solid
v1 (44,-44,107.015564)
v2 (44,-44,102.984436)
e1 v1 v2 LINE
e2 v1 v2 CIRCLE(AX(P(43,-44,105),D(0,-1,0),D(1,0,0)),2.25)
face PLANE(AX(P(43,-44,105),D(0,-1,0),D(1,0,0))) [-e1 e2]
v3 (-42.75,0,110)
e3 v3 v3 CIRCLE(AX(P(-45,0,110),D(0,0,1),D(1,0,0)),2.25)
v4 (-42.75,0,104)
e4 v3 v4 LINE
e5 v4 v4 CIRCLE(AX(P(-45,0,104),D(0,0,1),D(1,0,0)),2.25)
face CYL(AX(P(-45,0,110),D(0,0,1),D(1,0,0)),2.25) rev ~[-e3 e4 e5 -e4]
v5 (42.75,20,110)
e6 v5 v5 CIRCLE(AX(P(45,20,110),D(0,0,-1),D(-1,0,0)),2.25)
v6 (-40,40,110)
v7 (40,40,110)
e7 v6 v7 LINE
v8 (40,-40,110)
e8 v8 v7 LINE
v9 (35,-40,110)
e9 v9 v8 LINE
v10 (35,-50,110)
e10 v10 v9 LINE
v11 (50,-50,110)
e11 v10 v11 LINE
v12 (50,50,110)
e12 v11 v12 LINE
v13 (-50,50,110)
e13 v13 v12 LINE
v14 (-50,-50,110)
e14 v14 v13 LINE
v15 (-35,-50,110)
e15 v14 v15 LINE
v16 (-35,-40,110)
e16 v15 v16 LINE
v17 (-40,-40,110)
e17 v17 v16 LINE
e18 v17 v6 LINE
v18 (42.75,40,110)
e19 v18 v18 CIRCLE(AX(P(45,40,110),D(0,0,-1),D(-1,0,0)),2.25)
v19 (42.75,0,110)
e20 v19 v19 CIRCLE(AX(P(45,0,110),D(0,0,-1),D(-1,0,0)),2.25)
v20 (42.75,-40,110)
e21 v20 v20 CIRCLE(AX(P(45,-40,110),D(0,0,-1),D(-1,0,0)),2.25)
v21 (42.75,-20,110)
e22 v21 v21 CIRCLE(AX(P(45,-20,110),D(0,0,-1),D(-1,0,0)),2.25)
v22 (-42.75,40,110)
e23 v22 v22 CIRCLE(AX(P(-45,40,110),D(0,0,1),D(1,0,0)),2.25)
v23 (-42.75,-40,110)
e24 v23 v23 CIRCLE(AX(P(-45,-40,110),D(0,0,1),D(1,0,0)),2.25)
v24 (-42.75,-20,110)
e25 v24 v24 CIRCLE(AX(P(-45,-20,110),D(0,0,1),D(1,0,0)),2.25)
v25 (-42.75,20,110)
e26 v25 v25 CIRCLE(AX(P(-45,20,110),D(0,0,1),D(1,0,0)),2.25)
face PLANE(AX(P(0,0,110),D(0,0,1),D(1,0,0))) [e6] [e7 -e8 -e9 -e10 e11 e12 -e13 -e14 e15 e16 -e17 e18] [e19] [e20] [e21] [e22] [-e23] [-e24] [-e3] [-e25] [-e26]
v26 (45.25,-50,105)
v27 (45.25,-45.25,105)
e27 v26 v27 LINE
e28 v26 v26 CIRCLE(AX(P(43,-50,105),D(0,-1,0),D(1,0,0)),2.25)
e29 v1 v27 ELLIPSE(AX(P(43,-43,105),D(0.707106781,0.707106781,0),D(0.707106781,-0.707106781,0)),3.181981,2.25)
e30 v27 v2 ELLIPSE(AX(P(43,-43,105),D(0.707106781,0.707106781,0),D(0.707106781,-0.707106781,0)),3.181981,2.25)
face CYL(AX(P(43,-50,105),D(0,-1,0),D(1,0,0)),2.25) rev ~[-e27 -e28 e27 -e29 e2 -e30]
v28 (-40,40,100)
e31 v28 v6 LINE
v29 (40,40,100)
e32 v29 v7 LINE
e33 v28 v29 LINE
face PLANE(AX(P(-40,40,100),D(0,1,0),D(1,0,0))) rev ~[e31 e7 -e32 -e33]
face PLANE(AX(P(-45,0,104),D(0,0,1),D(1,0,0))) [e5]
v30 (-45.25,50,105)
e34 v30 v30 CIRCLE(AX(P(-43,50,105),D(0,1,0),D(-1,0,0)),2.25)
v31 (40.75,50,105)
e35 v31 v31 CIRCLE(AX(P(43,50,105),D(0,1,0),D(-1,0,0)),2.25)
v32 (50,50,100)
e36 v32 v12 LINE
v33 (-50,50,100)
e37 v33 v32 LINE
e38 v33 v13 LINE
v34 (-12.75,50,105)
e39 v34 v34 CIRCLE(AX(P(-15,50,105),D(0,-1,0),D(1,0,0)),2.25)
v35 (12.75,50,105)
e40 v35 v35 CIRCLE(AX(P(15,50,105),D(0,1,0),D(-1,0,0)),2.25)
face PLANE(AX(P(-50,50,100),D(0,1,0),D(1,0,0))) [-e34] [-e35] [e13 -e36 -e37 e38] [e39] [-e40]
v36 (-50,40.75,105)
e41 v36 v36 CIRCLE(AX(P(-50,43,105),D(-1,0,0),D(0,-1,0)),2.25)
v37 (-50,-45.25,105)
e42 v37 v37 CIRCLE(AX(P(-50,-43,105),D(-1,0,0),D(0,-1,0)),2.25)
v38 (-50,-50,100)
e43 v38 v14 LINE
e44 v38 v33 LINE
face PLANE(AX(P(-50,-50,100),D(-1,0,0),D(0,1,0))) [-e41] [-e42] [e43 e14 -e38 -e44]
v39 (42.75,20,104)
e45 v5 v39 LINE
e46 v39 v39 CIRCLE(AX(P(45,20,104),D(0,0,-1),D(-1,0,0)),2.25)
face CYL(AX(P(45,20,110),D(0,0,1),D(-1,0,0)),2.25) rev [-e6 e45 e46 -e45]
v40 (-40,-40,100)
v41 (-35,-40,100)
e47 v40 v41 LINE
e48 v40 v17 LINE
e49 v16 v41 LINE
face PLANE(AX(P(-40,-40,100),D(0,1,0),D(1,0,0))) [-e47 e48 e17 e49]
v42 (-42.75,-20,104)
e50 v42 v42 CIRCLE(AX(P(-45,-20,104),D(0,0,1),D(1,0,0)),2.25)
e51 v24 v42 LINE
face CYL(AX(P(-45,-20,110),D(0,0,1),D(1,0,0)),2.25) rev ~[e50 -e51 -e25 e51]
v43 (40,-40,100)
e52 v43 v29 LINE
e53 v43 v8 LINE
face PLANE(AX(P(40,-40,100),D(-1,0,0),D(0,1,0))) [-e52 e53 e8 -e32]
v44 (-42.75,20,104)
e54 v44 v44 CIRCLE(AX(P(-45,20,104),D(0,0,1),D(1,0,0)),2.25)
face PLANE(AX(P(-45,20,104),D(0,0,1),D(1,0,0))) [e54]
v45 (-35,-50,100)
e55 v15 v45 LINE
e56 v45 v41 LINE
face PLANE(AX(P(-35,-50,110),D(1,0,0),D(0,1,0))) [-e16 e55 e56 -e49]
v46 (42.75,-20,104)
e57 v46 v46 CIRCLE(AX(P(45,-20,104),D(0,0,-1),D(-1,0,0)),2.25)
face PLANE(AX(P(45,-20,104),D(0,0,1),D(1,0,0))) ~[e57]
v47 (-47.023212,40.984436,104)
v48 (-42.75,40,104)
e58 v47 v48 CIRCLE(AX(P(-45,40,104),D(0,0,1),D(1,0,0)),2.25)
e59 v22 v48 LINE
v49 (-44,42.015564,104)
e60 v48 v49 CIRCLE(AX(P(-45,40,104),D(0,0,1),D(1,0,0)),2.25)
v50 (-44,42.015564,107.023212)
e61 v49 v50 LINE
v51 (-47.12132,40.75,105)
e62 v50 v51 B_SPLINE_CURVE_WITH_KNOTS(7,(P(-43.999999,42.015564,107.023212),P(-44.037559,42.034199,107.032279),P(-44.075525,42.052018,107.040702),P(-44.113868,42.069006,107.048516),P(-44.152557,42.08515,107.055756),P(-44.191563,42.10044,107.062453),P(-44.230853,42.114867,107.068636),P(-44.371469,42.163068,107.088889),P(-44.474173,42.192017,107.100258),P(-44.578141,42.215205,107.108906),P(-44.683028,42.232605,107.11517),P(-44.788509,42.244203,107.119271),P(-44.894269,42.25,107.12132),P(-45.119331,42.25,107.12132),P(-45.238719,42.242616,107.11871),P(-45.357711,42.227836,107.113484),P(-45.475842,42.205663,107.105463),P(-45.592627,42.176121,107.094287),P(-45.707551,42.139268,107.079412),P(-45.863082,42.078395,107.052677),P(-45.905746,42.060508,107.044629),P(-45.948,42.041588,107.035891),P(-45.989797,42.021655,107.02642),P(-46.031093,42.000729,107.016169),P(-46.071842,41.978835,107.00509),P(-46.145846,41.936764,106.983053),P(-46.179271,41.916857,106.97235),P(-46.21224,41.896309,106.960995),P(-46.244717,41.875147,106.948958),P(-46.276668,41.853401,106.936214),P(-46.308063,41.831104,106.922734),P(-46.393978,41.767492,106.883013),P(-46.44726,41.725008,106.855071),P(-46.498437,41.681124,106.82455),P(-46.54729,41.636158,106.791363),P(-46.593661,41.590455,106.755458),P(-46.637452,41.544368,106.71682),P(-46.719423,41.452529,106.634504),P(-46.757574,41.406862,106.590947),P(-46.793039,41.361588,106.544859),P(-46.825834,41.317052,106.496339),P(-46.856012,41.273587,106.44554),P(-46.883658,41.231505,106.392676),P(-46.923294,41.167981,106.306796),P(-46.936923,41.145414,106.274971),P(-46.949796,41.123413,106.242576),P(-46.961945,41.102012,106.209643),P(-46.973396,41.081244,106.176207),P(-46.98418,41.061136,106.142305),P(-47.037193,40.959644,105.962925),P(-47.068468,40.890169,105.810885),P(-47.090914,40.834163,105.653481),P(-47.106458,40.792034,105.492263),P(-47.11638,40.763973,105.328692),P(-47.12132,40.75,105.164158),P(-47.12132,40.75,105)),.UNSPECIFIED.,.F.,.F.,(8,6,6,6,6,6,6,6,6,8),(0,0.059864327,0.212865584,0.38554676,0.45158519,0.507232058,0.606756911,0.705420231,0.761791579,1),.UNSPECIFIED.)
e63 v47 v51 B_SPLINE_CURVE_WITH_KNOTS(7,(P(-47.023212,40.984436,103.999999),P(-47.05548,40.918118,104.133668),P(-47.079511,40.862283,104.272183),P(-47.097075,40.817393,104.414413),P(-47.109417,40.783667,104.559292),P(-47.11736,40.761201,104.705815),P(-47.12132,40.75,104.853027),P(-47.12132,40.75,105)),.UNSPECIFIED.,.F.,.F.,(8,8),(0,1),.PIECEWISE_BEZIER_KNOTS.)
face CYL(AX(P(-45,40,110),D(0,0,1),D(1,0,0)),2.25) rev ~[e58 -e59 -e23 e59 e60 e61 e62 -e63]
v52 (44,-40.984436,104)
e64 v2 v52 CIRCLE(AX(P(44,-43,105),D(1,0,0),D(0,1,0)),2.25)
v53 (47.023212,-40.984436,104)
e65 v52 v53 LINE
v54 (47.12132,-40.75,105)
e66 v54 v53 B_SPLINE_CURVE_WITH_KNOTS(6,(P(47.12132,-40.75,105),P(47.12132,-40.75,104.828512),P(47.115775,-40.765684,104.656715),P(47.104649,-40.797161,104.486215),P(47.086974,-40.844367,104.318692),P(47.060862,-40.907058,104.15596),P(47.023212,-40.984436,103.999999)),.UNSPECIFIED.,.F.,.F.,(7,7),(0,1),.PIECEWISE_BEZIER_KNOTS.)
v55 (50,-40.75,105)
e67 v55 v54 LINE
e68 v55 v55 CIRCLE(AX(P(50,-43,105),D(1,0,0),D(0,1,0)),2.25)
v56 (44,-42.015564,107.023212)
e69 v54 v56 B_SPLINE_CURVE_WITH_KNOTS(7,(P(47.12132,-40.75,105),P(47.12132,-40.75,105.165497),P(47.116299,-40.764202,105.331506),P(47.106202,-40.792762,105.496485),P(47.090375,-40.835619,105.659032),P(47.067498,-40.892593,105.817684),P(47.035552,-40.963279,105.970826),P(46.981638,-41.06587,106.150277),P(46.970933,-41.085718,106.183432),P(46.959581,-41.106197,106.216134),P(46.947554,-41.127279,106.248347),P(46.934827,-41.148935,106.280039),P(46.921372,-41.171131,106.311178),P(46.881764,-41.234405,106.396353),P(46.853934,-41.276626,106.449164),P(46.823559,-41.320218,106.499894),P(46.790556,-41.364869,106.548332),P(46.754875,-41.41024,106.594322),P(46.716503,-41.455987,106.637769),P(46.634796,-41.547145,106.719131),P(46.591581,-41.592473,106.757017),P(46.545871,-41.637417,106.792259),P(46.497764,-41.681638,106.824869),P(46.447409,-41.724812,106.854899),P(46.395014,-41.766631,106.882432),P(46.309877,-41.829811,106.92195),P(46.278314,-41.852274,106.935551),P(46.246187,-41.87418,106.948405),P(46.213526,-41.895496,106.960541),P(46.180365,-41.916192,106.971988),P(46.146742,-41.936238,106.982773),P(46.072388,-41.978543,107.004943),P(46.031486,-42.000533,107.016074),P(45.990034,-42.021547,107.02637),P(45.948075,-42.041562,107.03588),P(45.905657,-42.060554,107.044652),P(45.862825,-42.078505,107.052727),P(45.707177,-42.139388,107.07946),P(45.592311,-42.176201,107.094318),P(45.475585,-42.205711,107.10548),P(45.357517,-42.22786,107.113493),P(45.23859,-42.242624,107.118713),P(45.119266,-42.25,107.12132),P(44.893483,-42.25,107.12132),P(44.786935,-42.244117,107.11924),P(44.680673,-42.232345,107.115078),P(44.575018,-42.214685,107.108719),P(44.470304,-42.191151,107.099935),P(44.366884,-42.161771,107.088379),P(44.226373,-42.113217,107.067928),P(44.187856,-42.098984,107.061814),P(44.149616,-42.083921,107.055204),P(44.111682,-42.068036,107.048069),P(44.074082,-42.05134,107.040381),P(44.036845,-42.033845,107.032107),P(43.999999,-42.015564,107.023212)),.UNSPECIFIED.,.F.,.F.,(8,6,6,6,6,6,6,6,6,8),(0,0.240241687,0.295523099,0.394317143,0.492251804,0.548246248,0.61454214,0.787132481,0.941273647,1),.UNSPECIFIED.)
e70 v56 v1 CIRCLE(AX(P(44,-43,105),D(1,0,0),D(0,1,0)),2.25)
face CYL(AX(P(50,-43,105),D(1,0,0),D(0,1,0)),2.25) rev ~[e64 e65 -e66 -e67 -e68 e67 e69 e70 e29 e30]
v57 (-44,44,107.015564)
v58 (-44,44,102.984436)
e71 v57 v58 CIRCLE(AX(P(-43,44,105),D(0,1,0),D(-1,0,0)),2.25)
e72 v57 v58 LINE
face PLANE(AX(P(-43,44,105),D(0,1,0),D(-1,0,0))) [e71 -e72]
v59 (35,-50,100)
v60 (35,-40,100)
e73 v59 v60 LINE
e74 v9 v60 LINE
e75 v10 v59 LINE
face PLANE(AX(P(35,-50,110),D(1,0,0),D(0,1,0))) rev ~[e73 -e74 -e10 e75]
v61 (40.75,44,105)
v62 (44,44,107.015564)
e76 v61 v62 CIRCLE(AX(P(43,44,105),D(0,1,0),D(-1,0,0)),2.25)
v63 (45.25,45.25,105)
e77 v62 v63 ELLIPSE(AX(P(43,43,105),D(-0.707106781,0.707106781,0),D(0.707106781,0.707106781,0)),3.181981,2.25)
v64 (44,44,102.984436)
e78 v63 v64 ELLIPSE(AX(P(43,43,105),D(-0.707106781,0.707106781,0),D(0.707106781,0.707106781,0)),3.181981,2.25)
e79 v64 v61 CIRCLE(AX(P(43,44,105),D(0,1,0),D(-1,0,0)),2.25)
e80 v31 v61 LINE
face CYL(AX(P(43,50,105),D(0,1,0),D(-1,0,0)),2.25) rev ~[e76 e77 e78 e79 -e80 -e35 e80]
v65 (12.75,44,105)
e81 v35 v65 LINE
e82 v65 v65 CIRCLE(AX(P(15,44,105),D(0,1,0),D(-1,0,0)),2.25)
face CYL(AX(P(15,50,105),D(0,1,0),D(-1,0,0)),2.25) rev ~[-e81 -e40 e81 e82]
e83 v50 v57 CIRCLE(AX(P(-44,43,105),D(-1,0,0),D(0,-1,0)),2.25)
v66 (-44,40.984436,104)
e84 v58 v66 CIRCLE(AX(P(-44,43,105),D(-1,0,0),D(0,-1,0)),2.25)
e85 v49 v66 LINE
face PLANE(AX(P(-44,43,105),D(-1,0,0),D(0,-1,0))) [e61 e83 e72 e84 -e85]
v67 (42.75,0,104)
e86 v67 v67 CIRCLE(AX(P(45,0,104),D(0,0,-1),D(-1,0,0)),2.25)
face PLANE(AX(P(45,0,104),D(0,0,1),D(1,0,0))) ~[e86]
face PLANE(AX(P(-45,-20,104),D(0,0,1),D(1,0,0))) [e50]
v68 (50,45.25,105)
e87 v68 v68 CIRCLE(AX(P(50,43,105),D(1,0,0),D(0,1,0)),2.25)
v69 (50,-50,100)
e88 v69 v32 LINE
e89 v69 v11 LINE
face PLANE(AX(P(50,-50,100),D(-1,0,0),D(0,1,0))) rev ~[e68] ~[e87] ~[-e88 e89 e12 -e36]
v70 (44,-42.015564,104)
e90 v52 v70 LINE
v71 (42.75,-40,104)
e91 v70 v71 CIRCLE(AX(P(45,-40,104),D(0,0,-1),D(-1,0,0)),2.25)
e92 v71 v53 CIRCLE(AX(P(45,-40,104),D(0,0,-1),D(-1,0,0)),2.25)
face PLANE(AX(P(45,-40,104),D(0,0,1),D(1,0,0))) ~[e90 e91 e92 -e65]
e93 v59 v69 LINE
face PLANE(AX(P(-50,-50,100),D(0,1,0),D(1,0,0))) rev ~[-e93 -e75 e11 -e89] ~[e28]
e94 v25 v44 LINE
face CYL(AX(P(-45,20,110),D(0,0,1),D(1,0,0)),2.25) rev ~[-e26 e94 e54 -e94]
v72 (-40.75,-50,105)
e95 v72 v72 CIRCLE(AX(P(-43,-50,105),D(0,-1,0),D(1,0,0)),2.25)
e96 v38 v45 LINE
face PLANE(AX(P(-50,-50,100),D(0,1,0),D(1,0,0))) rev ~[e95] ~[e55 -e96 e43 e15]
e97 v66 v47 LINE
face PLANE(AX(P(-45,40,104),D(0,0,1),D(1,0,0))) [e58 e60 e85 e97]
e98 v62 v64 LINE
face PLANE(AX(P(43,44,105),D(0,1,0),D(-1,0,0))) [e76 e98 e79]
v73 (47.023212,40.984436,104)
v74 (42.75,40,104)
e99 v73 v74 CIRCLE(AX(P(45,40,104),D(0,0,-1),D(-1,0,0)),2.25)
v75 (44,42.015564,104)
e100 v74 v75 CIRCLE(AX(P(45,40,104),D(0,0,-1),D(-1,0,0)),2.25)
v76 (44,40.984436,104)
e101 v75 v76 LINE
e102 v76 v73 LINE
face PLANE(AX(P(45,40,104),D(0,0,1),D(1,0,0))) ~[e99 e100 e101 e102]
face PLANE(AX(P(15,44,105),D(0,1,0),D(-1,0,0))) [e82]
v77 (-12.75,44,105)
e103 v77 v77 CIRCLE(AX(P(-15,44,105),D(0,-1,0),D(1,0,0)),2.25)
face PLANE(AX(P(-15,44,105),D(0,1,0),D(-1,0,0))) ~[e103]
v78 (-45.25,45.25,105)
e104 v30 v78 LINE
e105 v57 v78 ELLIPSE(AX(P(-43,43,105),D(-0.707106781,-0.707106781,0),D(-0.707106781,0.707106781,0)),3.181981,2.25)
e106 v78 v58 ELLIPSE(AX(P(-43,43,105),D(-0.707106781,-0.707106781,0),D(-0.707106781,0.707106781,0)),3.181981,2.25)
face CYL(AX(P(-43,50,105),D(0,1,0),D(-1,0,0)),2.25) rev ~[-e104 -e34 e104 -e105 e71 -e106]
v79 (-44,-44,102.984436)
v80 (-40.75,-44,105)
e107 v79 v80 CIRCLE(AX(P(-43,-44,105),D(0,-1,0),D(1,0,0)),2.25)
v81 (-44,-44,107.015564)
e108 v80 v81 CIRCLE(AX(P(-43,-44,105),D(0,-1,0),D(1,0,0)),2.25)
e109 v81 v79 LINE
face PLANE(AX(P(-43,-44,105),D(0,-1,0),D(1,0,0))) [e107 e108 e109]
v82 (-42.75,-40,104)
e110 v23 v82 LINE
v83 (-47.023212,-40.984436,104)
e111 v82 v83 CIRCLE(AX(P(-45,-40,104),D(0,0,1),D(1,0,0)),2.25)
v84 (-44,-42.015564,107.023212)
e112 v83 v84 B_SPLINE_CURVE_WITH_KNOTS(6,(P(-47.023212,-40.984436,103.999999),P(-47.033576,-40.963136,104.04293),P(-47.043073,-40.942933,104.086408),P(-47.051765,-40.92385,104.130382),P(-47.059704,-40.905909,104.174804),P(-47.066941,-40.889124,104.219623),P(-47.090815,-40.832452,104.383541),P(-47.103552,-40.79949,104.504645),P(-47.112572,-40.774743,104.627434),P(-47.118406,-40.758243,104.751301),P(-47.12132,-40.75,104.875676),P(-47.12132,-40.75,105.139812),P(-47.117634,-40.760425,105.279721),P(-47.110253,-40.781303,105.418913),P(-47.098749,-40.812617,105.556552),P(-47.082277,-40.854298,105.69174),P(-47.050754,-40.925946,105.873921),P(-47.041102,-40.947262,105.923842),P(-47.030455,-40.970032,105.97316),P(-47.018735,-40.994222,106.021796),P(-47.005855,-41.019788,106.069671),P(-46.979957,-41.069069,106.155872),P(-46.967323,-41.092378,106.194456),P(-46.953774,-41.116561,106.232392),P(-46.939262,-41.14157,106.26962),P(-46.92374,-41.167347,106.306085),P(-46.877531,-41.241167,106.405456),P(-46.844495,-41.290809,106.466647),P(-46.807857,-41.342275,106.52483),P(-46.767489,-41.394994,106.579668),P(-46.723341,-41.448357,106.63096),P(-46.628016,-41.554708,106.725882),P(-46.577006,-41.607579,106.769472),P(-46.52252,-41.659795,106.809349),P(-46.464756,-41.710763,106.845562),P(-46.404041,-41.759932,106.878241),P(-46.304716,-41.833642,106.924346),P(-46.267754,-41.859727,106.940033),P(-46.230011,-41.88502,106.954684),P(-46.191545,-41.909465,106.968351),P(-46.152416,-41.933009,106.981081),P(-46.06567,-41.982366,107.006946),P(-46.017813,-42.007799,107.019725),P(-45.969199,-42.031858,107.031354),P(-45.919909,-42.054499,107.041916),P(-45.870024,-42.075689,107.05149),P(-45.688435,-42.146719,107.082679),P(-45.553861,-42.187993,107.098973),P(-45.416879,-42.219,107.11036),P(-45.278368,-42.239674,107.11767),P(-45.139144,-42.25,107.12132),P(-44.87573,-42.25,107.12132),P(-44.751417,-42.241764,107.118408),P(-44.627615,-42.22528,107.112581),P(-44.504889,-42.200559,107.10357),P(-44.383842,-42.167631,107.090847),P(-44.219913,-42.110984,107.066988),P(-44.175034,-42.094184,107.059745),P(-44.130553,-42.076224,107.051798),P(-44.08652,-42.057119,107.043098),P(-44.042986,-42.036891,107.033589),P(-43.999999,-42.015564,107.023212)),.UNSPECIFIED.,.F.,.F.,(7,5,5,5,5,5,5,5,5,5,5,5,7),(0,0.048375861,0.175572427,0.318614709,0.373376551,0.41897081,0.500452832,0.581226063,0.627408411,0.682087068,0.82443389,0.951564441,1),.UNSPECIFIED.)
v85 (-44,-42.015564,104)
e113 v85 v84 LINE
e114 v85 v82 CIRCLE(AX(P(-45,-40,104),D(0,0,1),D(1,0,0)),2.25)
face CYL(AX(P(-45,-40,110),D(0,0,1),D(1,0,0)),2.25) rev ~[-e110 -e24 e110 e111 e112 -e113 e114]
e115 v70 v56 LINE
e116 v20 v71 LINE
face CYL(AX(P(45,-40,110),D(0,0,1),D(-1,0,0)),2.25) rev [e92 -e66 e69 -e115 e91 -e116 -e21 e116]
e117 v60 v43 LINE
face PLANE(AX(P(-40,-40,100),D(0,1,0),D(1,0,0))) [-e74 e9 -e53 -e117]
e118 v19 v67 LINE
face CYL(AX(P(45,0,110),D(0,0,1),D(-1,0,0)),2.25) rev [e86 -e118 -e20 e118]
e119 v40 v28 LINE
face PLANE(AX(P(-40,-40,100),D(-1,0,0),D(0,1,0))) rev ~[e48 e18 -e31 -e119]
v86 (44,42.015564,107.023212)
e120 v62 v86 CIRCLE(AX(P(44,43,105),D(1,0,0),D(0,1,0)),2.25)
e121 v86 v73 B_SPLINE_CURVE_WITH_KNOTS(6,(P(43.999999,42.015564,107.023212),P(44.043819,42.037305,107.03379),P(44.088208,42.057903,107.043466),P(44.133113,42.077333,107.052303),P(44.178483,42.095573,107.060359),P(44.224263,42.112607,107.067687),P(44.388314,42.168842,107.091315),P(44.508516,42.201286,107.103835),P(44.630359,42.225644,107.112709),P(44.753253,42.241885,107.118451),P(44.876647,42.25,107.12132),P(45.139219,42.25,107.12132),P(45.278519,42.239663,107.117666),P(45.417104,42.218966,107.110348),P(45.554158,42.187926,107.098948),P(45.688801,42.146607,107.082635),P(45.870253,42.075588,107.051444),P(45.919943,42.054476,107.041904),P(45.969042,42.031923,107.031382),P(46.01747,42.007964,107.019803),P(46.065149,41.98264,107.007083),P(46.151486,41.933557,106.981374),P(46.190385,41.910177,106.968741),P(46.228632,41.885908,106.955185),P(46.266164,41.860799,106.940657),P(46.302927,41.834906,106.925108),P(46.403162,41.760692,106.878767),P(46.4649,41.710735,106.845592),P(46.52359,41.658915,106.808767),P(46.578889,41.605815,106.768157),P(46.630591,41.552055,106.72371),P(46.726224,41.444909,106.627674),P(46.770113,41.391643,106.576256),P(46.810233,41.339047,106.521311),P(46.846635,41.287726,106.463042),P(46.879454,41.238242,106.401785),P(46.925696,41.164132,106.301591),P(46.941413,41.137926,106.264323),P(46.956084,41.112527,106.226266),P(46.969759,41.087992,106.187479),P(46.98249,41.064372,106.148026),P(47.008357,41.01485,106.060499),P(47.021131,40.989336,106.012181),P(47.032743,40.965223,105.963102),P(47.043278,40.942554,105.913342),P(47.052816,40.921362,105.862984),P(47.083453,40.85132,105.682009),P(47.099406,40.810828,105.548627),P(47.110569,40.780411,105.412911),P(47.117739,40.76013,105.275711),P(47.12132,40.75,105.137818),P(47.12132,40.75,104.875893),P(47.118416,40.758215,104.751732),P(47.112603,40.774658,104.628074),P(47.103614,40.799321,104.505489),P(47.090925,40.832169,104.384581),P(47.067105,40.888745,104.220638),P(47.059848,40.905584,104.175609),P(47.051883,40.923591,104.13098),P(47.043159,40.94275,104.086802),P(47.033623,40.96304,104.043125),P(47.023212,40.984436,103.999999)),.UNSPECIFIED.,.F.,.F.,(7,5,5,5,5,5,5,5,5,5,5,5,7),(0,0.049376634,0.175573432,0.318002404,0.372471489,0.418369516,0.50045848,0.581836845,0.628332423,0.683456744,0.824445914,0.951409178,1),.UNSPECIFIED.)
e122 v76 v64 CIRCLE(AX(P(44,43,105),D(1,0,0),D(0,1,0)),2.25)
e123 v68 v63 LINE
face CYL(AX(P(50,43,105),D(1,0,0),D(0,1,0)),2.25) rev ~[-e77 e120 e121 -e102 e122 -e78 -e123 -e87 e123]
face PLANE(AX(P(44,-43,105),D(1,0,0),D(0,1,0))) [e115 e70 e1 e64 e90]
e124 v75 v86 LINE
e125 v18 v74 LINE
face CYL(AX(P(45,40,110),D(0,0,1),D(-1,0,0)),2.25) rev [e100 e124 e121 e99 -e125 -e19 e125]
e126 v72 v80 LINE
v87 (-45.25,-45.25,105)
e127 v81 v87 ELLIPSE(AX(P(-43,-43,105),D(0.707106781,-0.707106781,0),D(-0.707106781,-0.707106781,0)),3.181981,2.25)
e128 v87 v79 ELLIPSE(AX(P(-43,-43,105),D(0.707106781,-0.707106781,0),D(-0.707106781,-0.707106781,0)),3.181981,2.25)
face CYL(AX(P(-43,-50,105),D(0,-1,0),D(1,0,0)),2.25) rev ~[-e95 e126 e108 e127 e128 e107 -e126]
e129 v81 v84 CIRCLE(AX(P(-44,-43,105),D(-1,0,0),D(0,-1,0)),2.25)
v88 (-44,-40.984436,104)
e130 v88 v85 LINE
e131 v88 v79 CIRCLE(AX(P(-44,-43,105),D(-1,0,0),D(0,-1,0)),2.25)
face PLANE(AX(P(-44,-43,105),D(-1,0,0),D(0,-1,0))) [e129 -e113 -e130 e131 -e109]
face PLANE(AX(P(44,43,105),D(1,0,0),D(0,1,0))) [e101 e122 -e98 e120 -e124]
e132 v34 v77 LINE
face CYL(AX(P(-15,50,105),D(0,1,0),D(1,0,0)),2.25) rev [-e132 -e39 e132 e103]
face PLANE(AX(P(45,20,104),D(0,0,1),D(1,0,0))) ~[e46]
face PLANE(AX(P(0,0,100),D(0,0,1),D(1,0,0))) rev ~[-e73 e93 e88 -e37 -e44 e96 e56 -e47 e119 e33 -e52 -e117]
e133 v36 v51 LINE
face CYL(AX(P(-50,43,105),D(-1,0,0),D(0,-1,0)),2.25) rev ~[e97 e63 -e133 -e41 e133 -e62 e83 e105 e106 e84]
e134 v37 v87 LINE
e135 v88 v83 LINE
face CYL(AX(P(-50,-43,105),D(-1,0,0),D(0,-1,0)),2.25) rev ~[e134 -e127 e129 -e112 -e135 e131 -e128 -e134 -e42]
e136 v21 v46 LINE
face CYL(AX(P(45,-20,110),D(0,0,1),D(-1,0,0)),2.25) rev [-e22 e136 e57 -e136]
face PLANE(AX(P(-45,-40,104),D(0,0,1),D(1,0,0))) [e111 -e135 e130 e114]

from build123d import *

# Parameters (mm, degrees)
SKETCH_W              = 100
SKETCH_H              = 100
SKETCH_W_2            = 80
SKETCH_H_2            = 80
PAD_DEPTH             = 10
SKETCH002_R           = 2.25
POCKET_DEPTH          = 6
SKETCH070_R           = 2.25
POCKET044_DEPTH       = 6
POLARPATTERN_COUNT    = 4
SKETCH071_R           = 2.25
POCKET045_DEPTH       = 6
POLARPATTERN001_COUNT = 4
SKETCH072_R           = 2.25
POCKET046_DEPTH       = 6
SKETCH097_W           = 70
SKETCH097_H           = 10
POCKET060_DEPTH       = 10


with BuildPart() as part:
    # Sketch → Pad (new body)
    with BuildSketch(Plane.XY):
        Rectangle(SKETCH_W, SKETCH_H)
        Rectangle(SKETCH_W_2, SKETCH_H_2, mode=Mode.SUBTRACT)
    extrude(amount=PAD_DEPTH)

    # Sketch002 (on Face10 of Pad) → Pocket (cut)
    with BuildSketch(Plane.XY.offset(10)):
        with Locations((-45, 40)):
            Circle(SKETCH002_R)
        with Locations((-45, 20)):
            Circle(SKETCH002_R)
        with Locations((-45, 0)):
            Circle(SKETCH002_R)
        with Locations((-45, -20)):
            Circle(SKETCH002_R)
        with Locations((-45, -40)):
            Circle(SKETCH002_R)
    pocket = extrude(amount=-POCKET_DEPTH, mode=Mode.SUBTRACT)

    # Mirrored: Pocket across Sketch002 V_Axis
    add(pocket.mirror(Plane(origin=(0, 0, 10), x_dir=(0, 0, 1), z_dir=(1, 0, 0))), mode=Mode.SUBTRACT)

    # Sketch070 (on Face6 of Mirrored) → Pocket044 (cut)
    with BuildSketch(Plane.XZ.offset(50)):
        with Locations((-43, 5)):
            Circle(SKETCH070_R)
    pocket044 = extrude(amount=-POCKET044_DEPTH, mode=Mode.SUBTRACT)

    # PolarPattern: Pocket044 ×4 about axis
    polarpattern_axis = Axis((0, 0, 0), (0, 0, 1))
    for i in range(1, POLARPATTERN_COUNT):
        add(pocket044.rotate(polarpattern_axis, i * 360 / POLARPATTERN_COUNT), mode=Mode.SUBTRACT)

    # Sketch071 (on Face2 of PolarPattern) → Pocket045 (cut)
    with BuildSketch(Plane(origin=(-50, 0, 0), x_dir=(0, -1, 0), z_dir=(-1, 0, 0))):
        with Locations((43, 5)):
            Circle(SKETCH071_R)
    pocket045 = extrude(amount=-POCKET045_DEPTH, mode=Mode.SUBTRACT)

    # PolarPattern001: Pocket045 ×4 about axis
    polarpattern001_axis = Axis((0, 0, 0), (0, 0, 1))
    for i in range(1, POLARPATTERN001_COUNT):
        add(pocket045.rotate(polarpattern001_axis, i * 360 / POLARPATTERN001_COUNT), mode=Mode.SUBTRACT)

    # Sketch072 (on Face1 of PolarPattern001) → Pocket046 (cut)
    with BuildSketch(Plane(origin=(0, 50, 0), x_dir=(-1, 0, 0), z_dir=(0, 1, 0))):
        with Locations((-15, 5)):
            Circle(SKETCH072_R)
    pocket046 = extrude(amount=-POCKET046_DEPTH, mode=Mode.SUBTRACT)

    # Mirrored001: Pocket046 across Sketch072 V_Axis
    add(pocket046.mirror(Plane(origin=(0, 50, 0), x_dir=(0, 1, 0), z_dir=(-1, 0, 0))), mode=Mode.SUBTRACT)

    # Sketch097 (on Face4 of Mirrored001) → Pocket060 (cut)
    with BuildSketch(Plane.XY.offset(10)):
        with Locations((0, -45)):
            Rectangle(SKETCH097_W, SKETCH097_H)
    extrude(amount=-POCKET060_DEPTH, mode=Mode.SUBTRACT)


with BuildPart() as part_1:
    # Body placement: moved
    add(part.part.moved(Location((0, 0, 100))))


solid = part_1.part
